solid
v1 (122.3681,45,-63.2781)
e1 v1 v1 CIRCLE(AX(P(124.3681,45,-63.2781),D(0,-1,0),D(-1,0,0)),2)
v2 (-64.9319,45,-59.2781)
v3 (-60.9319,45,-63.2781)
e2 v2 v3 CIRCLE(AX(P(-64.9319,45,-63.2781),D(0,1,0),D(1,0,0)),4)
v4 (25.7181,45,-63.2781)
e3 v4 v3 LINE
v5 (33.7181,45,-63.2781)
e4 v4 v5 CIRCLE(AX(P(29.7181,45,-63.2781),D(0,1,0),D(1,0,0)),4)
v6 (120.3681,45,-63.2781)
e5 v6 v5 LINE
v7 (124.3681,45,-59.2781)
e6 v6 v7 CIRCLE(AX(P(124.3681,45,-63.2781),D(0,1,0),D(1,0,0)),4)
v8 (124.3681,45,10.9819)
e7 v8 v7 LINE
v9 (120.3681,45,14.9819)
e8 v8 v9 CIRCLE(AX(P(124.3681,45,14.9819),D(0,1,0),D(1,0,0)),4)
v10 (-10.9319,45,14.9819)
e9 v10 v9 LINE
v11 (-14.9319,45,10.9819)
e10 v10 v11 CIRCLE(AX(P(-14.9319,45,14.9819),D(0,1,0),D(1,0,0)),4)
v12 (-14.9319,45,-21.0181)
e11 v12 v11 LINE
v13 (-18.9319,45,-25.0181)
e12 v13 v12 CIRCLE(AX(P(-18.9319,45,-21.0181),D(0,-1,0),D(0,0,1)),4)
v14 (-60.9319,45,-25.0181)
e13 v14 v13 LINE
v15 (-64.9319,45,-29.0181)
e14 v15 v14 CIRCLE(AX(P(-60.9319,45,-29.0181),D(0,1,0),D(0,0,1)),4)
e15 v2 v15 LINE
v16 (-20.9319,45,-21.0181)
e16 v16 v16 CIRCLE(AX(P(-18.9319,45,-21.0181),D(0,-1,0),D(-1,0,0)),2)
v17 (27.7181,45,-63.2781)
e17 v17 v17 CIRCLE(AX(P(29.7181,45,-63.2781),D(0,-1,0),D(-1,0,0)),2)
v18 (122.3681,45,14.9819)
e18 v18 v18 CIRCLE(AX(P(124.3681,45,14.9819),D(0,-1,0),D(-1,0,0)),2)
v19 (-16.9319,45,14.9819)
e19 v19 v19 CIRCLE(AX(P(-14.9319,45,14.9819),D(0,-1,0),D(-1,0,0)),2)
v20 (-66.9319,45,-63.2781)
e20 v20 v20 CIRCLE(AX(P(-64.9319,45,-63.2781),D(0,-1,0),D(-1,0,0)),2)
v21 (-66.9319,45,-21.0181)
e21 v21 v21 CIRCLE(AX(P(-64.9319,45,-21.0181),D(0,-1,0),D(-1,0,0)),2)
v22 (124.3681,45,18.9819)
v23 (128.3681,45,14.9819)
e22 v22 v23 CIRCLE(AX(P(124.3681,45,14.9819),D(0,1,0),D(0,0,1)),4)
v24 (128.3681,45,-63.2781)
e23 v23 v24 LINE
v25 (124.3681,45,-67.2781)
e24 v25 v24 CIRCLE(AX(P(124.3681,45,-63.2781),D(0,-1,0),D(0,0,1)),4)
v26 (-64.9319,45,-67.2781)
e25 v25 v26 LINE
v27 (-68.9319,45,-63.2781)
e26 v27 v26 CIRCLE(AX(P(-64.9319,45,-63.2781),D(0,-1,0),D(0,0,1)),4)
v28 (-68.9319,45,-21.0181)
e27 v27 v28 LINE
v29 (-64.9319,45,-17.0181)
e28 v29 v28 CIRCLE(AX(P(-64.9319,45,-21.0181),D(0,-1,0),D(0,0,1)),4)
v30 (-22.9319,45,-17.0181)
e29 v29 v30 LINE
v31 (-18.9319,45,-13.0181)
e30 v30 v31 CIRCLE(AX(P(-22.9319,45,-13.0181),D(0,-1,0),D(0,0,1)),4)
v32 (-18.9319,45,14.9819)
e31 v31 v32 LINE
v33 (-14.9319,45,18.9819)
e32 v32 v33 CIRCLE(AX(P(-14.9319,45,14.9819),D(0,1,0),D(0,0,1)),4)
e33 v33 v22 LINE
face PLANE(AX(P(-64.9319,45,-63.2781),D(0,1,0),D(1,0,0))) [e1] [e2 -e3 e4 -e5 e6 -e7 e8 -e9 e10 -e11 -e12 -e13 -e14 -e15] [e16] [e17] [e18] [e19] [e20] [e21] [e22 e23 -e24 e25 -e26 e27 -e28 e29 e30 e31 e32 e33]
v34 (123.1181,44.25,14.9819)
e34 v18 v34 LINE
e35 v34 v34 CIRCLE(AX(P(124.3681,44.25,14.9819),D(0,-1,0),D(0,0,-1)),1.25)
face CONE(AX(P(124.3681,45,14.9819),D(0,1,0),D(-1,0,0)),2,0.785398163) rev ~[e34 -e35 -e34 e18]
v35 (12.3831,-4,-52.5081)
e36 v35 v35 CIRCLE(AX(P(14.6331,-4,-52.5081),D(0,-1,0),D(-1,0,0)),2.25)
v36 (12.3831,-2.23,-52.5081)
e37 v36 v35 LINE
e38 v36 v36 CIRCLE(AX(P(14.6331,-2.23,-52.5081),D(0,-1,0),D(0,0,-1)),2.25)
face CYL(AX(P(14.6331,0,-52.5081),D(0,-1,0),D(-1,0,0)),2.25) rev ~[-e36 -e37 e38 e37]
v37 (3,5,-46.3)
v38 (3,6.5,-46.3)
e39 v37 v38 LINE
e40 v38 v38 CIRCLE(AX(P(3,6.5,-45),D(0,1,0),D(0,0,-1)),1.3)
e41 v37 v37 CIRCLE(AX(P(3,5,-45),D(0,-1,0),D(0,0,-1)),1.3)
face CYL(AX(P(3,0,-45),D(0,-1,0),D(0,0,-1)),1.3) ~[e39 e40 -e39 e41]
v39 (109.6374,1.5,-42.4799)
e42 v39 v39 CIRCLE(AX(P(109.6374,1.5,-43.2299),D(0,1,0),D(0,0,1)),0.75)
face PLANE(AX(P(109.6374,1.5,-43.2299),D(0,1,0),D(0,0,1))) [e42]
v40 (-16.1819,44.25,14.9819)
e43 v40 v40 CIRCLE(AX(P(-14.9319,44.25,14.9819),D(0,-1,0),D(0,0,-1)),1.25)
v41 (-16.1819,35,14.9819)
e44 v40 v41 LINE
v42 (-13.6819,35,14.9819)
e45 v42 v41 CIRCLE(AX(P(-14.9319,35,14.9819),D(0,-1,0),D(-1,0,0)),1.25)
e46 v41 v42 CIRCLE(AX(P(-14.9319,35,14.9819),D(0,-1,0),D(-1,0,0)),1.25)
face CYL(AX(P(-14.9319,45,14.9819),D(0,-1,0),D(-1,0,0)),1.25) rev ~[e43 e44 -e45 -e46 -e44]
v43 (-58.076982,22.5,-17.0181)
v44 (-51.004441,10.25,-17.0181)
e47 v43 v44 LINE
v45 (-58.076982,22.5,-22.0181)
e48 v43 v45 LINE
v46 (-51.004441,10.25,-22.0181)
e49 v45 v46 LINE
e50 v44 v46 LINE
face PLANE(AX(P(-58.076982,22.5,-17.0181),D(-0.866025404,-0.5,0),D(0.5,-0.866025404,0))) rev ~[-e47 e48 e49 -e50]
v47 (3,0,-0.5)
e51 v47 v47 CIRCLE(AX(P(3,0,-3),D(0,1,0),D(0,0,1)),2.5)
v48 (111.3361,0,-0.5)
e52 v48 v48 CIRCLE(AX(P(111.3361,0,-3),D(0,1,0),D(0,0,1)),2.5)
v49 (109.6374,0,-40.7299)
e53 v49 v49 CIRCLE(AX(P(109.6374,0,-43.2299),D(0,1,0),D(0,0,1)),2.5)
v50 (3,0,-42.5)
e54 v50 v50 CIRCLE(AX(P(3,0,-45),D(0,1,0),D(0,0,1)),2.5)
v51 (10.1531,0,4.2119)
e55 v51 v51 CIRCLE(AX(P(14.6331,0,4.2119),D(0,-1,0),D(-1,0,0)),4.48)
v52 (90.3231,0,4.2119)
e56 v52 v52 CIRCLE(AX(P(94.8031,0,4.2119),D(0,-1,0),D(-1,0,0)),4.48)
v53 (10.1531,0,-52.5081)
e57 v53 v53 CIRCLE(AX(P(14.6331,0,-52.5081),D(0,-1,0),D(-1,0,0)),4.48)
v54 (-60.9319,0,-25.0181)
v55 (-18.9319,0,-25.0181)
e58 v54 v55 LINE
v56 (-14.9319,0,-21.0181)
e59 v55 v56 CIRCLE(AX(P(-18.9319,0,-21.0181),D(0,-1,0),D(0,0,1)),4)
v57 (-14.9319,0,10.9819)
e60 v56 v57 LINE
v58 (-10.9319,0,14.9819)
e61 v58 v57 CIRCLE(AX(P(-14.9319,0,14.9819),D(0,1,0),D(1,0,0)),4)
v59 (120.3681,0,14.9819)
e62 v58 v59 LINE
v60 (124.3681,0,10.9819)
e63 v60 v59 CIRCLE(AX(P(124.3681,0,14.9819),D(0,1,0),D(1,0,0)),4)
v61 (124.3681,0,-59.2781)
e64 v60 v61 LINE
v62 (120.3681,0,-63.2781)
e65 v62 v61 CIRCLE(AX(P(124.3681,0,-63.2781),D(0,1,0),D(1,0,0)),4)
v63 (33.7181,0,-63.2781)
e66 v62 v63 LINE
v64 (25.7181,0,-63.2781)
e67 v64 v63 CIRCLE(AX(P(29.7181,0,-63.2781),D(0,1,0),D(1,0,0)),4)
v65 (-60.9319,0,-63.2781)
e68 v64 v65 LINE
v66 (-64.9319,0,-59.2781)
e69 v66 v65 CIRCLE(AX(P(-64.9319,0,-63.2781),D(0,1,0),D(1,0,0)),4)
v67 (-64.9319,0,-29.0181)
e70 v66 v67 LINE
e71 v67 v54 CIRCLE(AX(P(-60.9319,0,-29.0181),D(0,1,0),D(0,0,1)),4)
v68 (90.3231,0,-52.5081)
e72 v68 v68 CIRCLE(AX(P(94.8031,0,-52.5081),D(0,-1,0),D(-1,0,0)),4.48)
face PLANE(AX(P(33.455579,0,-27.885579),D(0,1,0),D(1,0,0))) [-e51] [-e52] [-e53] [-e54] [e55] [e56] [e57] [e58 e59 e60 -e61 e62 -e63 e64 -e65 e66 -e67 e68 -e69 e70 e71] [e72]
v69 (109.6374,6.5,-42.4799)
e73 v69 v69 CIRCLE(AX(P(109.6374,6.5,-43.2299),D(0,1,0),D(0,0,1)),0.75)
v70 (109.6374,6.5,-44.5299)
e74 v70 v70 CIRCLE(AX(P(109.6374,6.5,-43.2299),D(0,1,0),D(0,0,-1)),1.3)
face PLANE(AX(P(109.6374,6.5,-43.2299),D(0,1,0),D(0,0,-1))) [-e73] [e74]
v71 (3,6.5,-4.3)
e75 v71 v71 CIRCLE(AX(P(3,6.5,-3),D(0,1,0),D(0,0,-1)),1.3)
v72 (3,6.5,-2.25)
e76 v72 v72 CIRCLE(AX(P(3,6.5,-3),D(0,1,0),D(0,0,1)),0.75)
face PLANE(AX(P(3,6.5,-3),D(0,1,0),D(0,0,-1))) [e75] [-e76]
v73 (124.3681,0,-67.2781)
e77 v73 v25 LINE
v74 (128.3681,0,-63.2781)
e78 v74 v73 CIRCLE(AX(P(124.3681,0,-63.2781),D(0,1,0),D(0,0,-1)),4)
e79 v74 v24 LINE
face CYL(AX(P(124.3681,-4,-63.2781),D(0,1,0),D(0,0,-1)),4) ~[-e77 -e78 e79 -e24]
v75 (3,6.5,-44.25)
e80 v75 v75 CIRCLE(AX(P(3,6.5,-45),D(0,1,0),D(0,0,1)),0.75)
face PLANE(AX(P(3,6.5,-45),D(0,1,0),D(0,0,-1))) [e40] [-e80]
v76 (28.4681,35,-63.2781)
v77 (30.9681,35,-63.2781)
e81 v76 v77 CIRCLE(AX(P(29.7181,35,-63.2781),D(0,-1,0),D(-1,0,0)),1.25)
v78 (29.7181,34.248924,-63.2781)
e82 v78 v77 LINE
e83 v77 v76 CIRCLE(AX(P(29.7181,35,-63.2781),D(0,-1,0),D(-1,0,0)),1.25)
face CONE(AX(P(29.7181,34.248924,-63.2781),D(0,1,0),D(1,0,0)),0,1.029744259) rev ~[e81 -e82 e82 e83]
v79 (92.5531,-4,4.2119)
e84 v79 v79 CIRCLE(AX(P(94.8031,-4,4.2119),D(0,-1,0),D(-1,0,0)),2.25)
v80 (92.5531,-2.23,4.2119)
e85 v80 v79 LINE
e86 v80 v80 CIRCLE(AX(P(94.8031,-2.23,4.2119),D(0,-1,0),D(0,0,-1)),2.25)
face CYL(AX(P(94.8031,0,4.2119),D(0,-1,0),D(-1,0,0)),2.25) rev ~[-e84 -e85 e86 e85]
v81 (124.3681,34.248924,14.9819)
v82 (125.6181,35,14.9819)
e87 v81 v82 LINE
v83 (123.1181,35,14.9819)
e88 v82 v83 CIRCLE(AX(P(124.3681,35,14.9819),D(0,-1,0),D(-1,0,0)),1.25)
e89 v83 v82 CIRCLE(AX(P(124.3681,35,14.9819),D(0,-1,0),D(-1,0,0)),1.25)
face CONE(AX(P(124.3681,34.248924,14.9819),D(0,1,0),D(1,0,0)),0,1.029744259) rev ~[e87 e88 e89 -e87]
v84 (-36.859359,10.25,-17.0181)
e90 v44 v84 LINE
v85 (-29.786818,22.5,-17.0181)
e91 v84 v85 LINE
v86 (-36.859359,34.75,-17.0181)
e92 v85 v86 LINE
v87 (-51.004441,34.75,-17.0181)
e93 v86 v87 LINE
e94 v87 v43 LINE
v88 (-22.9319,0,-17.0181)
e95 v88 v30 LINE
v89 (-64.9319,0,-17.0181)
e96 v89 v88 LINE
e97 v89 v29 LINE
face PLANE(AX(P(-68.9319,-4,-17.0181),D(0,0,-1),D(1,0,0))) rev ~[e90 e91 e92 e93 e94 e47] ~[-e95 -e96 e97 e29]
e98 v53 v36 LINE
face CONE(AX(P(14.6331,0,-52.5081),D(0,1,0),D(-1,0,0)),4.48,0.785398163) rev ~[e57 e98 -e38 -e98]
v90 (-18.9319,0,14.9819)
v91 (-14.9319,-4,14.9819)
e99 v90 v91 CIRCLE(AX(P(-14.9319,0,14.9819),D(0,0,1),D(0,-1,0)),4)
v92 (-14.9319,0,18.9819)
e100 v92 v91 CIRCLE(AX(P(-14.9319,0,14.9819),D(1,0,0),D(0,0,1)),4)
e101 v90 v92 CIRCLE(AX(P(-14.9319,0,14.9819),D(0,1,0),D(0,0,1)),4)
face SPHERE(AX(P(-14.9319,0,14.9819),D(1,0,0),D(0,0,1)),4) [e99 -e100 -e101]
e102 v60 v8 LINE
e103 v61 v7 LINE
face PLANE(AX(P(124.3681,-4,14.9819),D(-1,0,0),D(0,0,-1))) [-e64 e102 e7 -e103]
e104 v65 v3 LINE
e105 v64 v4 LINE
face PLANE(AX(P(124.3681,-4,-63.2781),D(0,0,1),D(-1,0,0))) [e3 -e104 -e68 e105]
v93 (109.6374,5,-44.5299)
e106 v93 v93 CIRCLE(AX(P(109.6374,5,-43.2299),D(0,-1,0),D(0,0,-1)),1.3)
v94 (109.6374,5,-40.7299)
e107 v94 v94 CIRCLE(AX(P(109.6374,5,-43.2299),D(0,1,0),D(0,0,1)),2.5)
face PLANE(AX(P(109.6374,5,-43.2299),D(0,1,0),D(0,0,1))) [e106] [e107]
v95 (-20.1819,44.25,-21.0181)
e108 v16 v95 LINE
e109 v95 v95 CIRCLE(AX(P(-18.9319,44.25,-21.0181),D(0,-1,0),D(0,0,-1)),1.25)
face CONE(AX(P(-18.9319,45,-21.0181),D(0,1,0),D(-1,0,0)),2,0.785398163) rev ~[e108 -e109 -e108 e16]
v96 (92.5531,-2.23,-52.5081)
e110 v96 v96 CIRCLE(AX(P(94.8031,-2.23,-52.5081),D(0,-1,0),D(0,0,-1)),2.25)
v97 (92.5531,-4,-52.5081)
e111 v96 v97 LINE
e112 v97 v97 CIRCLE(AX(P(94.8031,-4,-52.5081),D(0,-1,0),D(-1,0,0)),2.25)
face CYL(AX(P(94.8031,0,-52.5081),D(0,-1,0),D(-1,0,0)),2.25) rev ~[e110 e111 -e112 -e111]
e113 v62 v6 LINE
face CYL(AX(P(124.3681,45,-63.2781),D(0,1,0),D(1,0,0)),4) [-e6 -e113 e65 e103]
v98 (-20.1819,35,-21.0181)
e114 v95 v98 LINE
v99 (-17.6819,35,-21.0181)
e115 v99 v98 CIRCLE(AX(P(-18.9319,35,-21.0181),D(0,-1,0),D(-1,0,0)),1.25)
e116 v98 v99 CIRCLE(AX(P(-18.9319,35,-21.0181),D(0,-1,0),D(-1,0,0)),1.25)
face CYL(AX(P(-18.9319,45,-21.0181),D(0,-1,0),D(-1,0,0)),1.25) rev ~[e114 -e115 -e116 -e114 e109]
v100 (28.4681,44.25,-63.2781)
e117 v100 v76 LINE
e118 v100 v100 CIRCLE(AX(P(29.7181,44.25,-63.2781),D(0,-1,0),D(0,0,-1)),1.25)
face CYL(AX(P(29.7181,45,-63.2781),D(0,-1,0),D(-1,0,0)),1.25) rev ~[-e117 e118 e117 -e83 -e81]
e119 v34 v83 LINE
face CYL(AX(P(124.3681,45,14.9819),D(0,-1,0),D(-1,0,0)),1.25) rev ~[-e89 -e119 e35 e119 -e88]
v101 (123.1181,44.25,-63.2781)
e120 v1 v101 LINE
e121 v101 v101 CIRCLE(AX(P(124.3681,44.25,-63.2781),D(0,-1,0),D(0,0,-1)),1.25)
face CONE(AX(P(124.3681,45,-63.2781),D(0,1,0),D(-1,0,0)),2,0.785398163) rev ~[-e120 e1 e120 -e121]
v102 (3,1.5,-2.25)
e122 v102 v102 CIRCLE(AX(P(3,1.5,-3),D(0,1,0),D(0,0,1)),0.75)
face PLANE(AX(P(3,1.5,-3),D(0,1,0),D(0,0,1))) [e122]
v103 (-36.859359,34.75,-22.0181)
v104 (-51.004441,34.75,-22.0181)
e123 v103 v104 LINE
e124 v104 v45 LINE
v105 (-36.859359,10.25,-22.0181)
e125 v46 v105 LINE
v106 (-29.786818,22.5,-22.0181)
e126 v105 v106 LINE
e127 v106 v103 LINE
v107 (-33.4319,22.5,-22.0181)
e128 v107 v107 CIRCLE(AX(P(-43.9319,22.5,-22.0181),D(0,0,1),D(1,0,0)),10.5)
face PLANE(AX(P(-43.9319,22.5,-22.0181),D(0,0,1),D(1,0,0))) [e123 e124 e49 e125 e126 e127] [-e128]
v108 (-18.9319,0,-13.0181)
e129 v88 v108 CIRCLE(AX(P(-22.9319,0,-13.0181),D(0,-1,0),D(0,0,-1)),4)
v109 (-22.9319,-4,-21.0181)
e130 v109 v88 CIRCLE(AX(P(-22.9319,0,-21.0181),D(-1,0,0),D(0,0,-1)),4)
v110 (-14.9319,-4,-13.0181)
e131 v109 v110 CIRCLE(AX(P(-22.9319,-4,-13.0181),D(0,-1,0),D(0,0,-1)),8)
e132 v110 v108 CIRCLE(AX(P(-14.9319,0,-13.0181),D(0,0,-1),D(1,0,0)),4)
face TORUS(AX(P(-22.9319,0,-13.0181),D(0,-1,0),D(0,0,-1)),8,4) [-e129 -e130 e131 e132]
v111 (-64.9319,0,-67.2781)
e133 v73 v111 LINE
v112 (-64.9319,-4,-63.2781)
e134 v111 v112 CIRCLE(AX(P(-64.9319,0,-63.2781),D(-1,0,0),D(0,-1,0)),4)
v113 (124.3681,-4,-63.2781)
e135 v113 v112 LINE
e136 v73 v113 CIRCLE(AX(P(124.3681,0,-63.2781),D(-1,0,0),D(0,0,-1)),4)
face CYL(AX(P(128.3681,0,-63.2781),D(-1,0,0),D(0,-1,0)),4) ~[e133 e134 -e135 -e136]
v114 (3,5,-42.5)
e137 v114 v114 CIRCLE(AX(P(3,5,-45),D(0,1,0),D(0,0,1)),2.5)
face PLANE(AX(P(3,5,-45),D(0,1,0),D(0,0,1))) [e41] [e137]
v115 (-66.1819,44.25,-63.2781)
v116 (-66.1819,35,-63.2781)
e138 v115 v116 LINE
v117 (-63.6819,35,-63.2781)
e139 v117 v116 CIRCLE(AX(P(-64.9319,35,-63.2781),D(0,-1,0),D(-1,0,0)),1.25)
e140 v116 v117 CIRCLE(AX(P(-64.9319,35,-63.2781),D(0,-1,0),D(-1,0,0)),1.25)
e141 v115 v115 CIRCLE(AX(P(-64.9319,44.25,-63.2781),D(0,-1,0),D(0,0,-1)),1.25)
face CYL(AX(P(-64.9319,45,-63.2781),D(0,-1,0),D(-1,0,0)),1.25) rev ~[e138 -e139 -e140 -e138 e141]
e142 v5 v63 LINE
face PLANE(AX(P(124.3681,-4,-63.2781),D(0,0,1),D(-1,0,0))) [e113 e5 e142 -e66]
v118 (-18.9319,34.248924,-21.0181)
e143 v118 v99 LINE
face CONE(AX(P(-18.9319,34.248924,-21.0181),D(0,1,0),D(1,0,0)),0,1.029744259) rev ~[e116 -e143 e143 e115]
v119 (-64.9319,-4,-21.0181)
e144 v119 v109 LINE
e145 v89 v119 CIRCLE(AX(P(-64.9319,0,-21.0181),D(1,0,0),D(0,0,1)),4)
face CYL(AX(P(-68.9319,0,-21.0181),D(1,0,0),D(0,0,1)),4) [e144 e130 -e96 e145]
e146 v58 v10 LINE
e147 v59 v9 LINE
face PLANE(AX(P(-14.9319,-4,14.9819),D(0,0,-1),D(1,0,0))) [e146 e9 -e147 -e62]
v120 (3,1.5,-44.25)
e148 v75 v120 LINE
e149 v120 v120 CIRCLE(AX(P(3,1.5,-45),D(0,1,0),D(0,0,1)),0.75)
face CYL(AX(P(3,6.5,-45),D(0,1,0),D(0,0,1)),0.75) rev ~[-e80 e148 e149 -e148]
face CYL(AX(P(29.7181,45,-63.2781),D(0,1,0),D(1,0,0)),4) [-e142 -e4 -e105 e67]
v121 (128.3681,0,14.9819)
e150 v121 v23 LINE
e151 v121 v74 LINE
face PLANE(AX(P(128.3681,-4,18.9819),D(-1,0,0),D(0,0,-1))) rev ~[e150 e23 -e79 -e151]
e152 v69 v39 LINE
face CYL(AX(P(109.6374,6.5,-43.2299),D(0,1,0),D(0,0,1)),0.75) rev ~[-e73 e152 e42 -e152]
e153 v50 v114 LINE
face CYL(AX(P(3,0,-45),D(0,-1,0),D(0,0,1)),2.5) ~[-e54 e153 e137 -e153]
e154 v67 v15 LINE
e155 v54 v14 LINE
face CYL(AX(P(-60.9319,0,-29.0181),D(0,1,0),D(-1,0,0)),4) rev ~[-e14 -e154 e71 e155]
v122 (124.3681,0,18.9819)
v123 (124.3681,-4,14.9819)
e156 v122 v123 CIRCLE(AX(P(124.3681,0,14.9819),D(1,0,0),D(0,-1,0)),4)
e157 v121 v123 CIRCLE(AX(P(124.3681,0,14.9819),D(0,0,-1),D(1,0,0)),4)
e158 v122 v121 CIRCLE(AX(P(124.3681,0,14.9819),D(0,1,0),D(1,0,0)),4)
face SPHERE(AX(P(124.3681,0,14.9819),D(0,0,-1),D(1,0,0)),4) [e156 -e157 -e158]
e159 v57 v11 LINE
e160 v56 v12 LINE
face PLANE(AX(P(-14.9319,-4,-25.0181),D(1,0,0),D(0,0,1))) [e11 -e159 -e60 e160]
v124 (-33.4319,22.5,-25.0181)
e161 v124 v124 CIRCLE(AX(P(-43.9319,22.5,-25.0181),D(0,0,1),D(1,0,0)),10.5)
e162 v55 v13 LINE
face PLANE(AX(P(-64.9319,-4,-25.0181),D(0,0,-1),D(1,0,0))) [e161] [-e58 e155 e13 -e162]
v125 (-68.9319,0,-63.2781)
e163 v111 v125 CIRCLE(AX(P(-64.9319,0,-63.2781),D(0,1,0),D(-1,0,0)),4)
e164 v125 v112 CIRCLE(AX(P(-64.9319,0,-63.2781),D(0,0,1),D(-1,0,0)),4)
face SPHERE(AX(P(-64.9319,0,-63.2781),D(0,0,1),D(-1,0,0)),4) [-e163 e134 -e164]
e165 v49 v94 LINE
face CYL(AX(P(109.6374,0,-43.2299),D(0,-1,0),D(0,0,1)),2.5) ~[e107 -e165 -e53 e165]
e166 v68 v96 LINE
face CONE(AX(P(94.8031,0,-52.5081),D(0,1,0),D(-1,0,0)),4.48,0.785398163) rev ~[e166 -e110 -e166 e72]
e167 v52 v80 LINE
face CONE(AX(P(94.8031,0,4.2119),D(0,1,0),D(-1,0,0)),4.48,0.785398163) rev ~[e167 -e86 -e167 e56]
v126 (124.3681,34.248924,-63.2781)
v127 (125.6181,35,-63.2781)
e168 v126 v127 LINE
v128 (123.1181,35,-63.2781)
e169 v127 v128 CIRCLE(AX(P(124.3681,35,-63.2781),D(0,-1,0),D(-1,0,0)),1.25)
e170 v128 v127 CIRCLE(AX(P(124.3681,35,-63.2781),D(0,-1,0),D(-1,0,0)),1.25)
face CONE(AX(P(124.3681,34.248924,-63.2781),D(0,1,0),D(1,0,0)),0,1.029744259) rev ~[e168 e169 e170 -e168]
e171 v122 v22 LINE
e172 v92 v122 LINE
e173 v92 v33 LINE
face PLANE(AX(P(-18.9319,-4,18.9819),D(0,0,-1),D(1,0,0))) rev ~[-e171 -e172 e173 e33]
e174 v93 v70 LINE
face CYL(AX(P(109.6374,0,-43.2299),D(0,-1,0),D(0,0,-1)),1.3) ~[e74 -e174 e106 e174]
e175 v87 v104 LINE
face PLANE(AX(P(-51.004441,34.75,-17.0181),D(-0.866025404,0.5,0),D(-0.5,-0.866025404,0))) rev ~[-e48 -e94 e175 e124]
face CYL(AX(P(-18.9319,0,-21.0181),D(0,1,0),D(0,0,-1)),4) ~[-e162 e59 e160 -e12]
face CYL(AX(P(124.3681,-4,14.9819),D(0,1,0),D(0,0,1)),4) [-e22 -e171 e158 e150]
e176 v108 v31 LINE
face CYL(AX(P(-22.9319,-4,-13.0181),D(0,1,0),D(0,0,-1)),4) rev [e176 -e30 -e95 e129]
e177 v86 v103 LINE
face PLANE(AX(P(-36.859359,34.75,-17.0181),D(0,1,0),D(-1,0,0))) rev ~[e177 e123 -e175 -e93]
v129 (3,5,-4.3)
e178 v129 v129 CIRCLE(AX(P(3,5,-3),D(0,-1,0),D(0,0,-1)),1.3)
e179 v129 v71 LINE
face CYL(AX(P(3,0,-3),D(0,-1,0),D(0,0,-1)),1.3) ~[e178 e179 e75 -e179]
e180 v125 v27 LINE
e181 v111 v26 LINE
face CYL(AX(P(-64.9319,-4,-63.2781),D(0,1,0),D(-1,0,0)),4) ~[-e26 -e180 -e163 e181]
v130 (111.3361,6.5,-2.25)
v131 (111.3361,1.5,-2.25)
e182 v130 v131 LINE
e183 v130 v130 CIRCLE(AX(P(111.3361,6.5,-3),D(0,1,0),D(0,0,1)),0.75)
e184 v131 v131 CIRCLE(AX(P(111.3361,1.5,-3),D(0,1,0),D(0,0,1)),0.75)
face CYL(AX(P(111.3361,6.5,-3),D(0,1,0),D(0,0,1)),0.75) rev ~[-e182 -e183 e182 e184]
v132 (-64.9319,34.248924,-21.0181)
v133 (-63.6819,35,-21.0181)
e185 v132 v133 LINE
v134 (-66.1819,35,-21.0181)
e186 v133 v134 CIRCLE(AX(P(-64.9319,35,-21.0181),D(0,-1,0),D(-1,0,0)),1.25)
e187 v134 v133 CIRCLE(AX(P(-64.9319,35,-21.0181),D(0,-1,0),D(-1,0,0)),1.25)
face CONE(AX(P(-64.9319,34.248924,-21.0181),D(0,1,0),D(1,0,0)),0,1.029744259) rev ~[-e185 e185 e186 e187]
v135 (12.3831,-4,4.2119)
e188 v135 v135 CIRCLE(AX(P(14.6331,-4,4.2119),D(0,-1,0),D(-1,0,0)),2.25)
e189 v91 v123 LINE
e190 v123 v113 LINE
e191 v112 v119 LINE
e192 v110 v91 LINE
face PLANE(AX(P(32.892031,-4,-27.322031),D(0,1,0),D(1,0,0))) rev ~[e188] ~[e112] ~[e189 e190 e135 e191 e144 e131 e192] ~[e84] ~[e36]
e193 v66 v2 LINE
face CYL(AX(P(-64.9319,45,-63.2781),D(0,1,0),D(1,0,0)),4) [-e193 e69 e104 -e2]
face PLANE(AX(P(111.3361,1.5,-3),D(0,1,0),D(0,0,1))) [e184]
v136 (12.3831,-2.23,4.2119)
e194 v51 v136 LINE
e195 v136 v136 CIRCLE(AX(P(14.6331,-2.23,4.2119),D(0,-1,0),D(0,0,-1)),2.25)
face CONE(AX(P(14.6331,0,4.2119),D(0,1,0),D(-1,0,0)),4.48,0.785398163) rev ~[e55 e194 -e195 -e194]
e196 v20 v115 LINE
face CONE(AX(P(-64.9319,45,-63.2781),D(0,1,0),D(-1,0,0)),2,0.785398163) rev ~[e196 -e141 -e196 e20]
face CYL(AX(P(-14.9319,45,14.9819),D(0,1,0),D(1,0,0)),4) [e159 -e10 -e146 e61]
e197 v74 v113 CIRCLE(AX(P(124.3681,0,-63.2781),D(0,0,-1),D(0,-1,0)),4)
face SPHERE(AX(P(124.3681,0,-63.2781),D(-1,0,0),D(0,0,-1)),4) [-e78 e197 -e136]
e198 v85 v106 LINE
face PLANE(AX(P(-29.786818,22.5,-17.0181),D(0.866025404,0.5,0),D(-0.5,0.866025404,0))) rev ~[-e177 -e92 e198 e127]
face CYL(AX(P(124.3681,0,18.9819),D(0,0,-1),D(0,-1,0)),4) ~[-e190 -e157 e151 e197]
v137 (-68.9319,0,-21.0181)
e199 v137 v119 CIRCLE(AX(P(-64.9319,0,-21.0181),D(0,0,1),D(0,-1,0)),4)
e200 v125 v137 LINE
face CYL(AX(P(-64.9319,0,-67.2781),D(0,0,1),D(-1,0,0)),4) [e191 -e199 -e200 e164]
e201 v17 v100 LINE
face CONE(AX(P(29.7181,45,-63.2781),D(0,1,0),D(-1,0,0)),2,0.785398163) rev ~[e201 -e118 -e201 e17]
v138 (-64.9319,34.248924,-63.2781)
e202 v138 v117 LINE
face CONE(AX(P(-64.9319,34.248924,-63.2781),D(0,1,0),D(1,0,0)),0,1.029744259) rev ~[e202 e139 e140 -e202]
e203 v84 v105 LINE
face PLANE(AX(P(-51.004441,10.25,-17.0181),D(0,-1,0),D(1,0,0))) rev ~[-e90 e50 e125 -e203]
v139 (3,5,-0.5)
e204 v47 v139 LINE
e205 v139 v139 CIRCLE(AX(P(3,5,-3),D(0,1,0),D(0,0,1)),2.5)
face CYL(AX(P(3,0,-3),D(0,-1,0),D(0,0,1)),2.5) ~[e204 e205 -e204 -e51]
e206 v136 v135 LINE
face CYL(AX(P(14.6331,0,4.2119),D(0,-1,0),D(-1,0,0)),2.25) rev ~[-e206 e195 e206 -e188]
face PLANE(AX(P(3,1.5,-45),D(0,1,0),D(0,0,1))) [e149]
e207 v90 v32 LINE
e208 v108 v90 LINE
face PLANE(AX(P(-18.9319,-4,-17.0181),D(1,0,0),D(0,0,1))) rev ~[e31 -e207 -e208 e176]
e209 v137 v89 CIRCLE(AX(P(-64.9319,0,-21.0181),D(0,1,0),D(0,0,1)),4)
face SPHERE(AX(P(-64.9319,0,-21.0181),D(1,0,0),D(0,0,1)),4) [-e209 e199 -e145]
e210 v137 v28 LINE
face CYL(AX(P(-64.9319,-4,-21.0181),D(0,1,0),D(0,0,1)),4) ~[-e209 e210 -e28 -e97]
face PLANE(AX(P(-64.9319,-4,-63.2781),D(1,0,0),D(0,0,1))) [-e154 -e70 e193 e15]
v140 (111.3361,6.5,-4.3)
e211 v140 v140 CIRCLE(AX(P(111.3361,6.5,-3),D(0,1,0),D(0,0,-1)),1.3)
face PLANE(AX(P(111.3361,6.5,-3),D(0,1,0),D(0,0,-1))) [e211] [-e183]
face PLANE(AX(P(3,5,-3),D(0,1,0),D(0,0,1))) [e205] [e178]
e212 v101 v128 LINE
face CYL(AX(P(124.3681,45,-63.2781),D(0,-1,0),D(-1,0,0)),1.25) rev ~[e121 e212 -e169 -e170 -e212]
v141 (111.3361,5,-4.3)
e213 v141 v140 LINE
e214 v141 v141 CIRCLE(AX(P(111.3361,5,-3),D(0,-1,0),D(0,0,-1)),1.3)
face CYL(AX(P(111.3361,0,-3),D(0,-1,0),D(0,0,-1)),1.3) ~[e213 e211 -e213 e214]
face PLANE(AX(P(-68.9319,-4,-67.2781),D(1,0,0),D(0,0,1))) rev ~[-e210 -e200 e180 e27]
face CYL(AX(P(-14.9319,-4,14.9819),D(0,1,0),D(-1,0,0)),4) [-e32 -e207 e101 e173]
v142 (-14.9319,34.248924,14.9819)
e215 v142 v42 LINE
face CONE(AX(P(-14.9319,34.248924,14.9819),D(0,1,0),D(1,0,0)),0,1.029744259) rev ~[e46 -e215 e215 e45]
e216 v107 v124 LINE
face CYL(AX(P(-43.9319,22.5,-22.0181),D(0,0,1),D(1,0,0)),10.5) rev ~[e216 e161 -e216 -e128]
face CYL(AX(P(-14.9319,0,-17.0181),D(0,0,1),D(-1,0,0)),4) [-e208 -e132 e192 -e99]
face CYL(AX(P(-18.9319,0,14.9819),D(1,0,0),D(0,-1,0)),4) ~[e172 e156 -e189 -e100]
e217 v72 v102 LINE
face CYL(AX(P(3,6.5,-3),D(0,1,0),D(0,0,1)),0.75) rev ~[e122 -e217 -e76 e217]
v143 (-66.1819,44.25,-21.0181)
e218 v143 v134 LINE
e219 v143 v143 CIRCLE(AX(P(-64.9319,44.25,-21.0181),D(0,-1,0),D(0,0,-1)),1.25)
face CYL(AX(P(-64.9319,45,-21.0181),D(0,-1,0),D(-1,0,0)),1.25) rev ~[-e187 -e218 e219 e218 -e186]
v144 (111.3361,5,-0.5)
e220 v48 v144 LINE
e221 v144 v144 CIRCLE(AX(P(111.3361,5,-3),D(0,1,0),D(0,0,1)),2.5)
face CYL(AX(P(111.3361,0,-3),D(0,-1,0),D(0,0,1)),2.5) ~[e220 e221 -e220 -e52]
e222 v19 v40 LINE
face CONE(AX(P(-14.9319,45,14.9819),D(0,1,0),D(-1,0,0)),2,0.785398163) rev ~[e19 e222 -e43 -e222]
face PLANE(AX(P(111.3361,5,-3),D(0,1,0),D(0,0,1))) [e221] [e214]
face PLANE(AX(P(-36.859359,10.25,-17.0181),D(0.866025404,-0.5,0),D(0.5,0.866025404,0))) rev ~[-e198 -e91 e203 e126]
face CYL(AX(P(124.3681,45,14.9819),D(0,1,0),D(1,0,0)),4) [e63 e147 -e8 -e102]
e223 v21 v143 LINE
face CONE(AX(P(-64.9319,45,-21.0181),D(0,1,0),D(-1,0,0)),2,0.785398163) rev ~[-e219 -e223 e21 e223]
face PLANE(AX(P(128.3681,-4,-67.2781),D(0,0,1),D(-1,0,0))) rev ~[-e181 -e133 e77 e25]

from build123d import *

# Parameters (mm, degrees)
CROQUIS2_R                                           = 1.3
SALIENTE_EXTRUIR1_DEPTH                              = 6.5
SALIENTE_EXTRUIR1_2_DEPTH                            = 6.5
SALIENTE_EXTRUIR1_3_DEPTH                            = 6.5
SALIENTE_EXTRUIR1_4_DEPTH                            = 6.5
CROQUIS3_R                                           = 2.5
SALIENTE_EXTRUIR2_DEPTH                              = 5
CROQUIS4_R                                           = 0.75
CORTAR_EXTRUIR1_DEPTH                                = 5
SALIENTE_EXTRUIR3_DEPTH                              = 4
SALIENTE_EXTRUIR4_DEPTH                              = 45
SALIENTE_EXTRUIR4_DEPTH_BACK                         = 4
REDONDEO1_R                                          = 4
CORTAR_EXTRUIR2_DEPTH                                = 5
CROQUIS8_R                                           = 10.5
CORTAR_EXTRUIR3_DEPTH                                = 5
CROQUIS9_R                                           = 4
SALIENTE_EXTRUIR6_DEPTH                              = 45
REFRENTADO_PARA_TORNILLO_TAP_N_CON_CABEZ_D           = 2.5
REFRENTADO_PARA_TORNILLO_TAP_N_CON_CABEZ_DEPTH       = 10
REFRENTADO_PARA_TORNILLO_TAP_N_CON_CABEZ_CSINK_D     = 4
REFRENTADO_PARA_TORNILLO_TAP_N_CON_CABEZ_CSINK_ANGLE = 90
REFRENTADO_PARA_TORNILLO_TAP_N_CON_CABEZ_TIP         = 0.751075774
REFRENTADO_PARA_TORNILLO_TAP_N_CON_C_2_D             = 4.5
REFRENTADO_PARA_TORNILLO_TAP_N_CON_C_2_DEPTH         = 10
REFRENTADO_PARA_TORNILLO_TAP_N_CON_C_2_CSINK_D       = 8.96
REFRENTADO_PARA_TORNILLO_TAP_N_CON_C_2_CSINK_ANGLE   = 90
REFRENTADO_PARA_TORNILLO_TAP_N_CON_C_2_TIP           = 1.351936393


with BuildPart() as part:
    # Croquis2 → Saliente-Extruir1 (new body)
    with BuildSketch(Plane(origin=(0, 0, 0), x_dir=(1, 0, 0), z_dir=(0, 1, 0))):
        with Locations(Location((3, 3, 0), (0, 0, 90))):
            Circle(CROQUIS2_R)
    extrude(amount=SALIENTE_EXTRUIR1_DEPTH)



with BuildPart() as body_2:
    # Croquis2 → Saliente-Extruir1 2 (new body)
    with BuildSketch(Plane(origin=(0, 0, 0), x_dir=(1, 0, 0), z_dir=(0, 1, 0))):
        with Locations(Location((111.3361, 3, 0), (0, 0, 90))):
            Circle(CROQUIS2_R)
    extrude(amount=SALIENTE_EXTRUIR1_2_DEPTH)


with BuildPart() as body_3:
    # Croquis2 → Saliente-Extruir1 3 (new body)
    with BuildSketch(Plane(origin=(0, 0, 0), x_dir=(1, 0, 0), z_dir=(0, 1, 0))):
        with Locations(Location((109.6374, 43.2299, 0), (0, 0, 90))):
            Circle(CROQUIS2_R)
    extrude(amount=SALIENTE_EXTRUIR1_3_DEPTH)


with BuildPart() as body_4:
    # Croquis2 → Saliente-Extruir1 4 (new body)
    with BuildSketch(Plane(origin=(0, 0, 0), x_dir=(1, 0, 0), z_dir=(0, 1, 0))):
        with Locations(Location((3, 45, 0), (0, 0, 90))):
            Circle(CROQUIS2_R)
    extrude(amount=SALIENTE_EXTRUIR1_4_DEPTH)


with BuildPart() as part_1:
    add(part.part)

    add(body_2.part)  # Saliente-Extruir2 merges body 2

    add(body_3.part)  # Saliente-Extruir2 merges body 3

    add(body_4.part)  # Saliente-Extruir2 merges body 4
    # Croquis3 → Saliente-Extruir2 (add)
    with BuildSketch(Plane(origin=(0, 0, 0), x_dir=(1, 0, 0), z_dir=(0, 1, 0))):
        with Locations(Location((3, 45, 0), (0, 0, 270))):
            Circle(CROQUIS3_R)
        with Locations(Location((3, 3, 0), (0, 0, 270))):
            Circle(CROQUIS3_R)
        with Locations(Location((111.3361, 3, 0), (0, 0, 270))):
            Circle(CROQUIS3_R)
        with Locations(Location((109.6374, 43.2299, 0), (0, 0, 270))):
            Circle(CROQUIS3_R)
    extrude(amount=SALIENTE_EXTRUIR2_DEPTH)

    # Croquis4 → Cortar-Extruir1 (cut)
    with BuildSketch(Plane(origin=(0, 6.5, 0), x_dir=(1, 0, 0), z_dir=(0, 1, 0))):
        with Locations(Location((3, 45, 0), (0, 0, 270))):
            Circle(CROQUIS4_R)
        with Locations(Location((3, 3, 0), (0, 0, 270))):
            Circle(CROQUIS4_R)
        with Locations(Location((111.3361, 3, 0), (0, 0, 270))):
            Circle(CROQUIS4_R)
        with Locations(Location((109.6374, 43.2299, 0), (0, 0, 270))):
            Circle(CROQUIS4_R)
    extrude(amount=-CORTAR_EXTRUIR1_DEPTH, mode=Mode.SUBTRACT)

    # Croquis5 → Saliente-Extruir3 (add)
    with BuildSketch(Plane(origin=(0, 0, 0), x_dir=(1, 0, 0), z_dir=(0, 1, 0))):
        Polygon((124.3681, 63.2781), (-64.9319, 63.2781), (-64.9319, 25.0181), (-14.9319, 25.0181), (-14.9319, -14.9819), (124.3681, -14.9819), align=None)
    extrude(amount=-SALIENTE_EXTRUIR3_DEPTH)

    # Croquis6 → Saliente-Extruir4 (add, two sides: drawn at the far end of the back side and taken through both)
    with BuildSketch(Plane(origin=(0, 0, 0), x_dir=(1, 0, 0), z_dir=(0, 1, 0)).offset(-SALIENTE_EXTRUIR4_DEPTH_BACK)):
        Polygon((-68.9319, 21.0181), (-68.9319, 17.0181), (-18.9319, 17.0181), (-18.9319, -18.9819), (128.3681, -18.9819), (128.3681, 67.2781), (-68.9319, 67.2781), align=None)
        Polygon((-14.9319, -14.9819), (124.3681, -14.9819), (124.3681, 63.2781), (-64.9319, 63.2781), (-64.9319, 25.0181), (-14.9319, 25.0181), align=None, mode=Mode.SUBTRACT)
    extrude(amount=SALIENTE_EXTRUIR4_DEPTH + SALIENTE_EXTRUIR4_DEPTH_BACK)

    # Redondeo1
    redondeo1_edges = [part_1.edges().sort_by_distance(p)[0] for p in [
        (-14.9319, 22.5, -25.0181),
        (-64.9319, 22.5, -25.0181),
        (-64.9319, 22.5, -63.2781),
        (124.3681, 22.5, -63.2781),
        (124.3681, 22.5, 14.9819),
        (-14.9319, 22.5, 14.9819),
        (-18.9319, 20.5, -17.0181),
        (-43.9319, -4, -17.0181),
        (-68.9319, 20.5, -17.0181),
        (-68.9319, -4, -42.1481),
        (-68.9319, 20.5, -67.2781),
        (29.7181, -4, -67.2781),
        (128.3681, 20.5, -67.2781),
        (128.3681, -4, -24.1481),
        (128.3681, 20.5, 18.9819),
        (54.7181, -4, 18.9819),
        (-18.9319, 20.5, 18.9819),
        (-18.9319, -4, 0.9819),
    ]]
    fillet(redondeo1_edges, radius=REDONDEO1_R)

    # Croquis7 → Cortar-Extruir2 (cut)
    with BuildSketch(Plane.XY.offset(-17.0181)):
        Polygon((-58.076981595, 22.5), (-51.004440798, 10.25), (-36.859359202, 10.25), (-29.786818405, 22.5), (-36.859359202, 34.75), (-51.004440798, 34.75), align=None)
    extrude(amount=-CORTAR_EXTRUIR2_DEPTH, mode=Mode.SUBTRACT)

    # Croquis8 → Cortar-Extruir3 (cut)
    with BuildSketch(Plane.XY.offset(-22.0181)):
        with Locations((-43.9319, 22.5)):
            Circle(CROQUIS8_R)
    extrude(amount=-CORTAR_EXTRUIR3_DEPTH, mode=Mode.SUBTRACT)

    # Croquis9 → Saliente-Extruir6 (add)
    with BuildSketch(Plane(origin=(0, 45, 0), x_dir=(1, 0, 0), z_dir=(0, 1, 0))):
        with Locations((-64.9319, 63.2781)):
            Circle(CROQUIS9_R)
        with Locations((124.3681, 63.2781)):
            Circle(CROQUIS9_R)
        with Locations((124.3681, -14.9819)):
            Circle(CROQUIS9_R)
        with Locations((-64.9319, 21.0181)):
            Circle(CROQUIS9_R)
        with Locations((-18.9319, 21.0181)):
            Circle(CROQUIS9_R)
        with Locations((-14.9319, -14.9819)):
            Circle(CROQUIS9_R)
        with Locations((29.7181, 63.2781)):
            Circle(CROQUIS9_R)
    extrude(amount=-SALIENTE_EXTRUIR6_DEPTH)

    # Refrentado para tornillo tap_n con cabez
    with Locations(Plane(origin=(0, 45, 0), x_dir=(1, 0, 0), z_dir=(0, 1, 0))):
        with Locations((-64.9319, 21.0181), (-64.9319, 63.2781), (29.7181, 63.2781), (124.3681, 63.2781), (124.3681, -14.9819), (-14.9319, -14.9819), (-18.9319, 21.0181)):
            CounterSinkHole(REFRENTADO_PARA_TORNILLO_TAP_N_CON_CABEZ_D / 2, REFRENTADO_PARA_TORNILLO_TAP_N_CON_CABEZ_CSINK_D / 2, depth=REFRENTADO_PARA_TORNILLO_TAP_N_CON_CABEZ_DEPTH, counter_sink_angle=REFRENTADO_PARA_TORNILLO_TAP_N_CON_CABEZ_CSINK_ANGLE)
            with Locations((0, 0, -(REFRENTADO_PARA_TORNILLO_TAP_N_CON_CABEZ_DEPTH + REFRENTADO_PARA_TORNILLO_TAP_N_CON_CABEZ_TIP / 2))):  # 118° drill point
                Cone(0, REFRENTADO_PARA_TORNILLO_TAP_N_CON_CABEZ_D / 2, REFRENTADO_PARA_TORNILLO_TAP_N_CON_CABEZ_TIP, mode=Mode.SUBTRACT)

    # Refrentado para tornillo tap_n con c 2
    with Locations(Plane(origin=(0, 0, 0), x_dir=(1, 0, 0), z_dir=(0, 1, 0))):
        with Locations((14.6331, 52.5081), (94.8031, 52.5081), (94.8031, -4.2119), (14.6331, -4.2119)):
            CounterSinkHole(REFRENTADO_PARA_TORNILLO_TAP_N_CON_C_2_D / 2, REFRENTADO_PARA_TORNILLO_TAP_N_CON_C_2_CSINK_D / 2, depth=REFRENTADO_PARA_TORNILLO_TAP_N_CON_C_2_DEPTH, counter_sink_angle=REFRENTADO_PARA_TORNILLO_TAP_N_CON_C_2_CSINK_ANGLE)
            with Locations((0, 0, -(REFRENTADO_PARA_TORNILLO_TAP_N_CON_C_2_DEPTH + REFRENTADO_PARA_TORNILLO_TAP_N_CON_C_2_TIP / 2))):  # 118° drill point
                Cone(0, REFRENTADO_PARA_TORNILLO_TAP_N_CON_C_2_D / 2, REFRENTADO_PARA_TORNILLO_TAP_N_CON_C_2_TIP, mode=Mode.SUBTRACT)


solid = part_1.part
